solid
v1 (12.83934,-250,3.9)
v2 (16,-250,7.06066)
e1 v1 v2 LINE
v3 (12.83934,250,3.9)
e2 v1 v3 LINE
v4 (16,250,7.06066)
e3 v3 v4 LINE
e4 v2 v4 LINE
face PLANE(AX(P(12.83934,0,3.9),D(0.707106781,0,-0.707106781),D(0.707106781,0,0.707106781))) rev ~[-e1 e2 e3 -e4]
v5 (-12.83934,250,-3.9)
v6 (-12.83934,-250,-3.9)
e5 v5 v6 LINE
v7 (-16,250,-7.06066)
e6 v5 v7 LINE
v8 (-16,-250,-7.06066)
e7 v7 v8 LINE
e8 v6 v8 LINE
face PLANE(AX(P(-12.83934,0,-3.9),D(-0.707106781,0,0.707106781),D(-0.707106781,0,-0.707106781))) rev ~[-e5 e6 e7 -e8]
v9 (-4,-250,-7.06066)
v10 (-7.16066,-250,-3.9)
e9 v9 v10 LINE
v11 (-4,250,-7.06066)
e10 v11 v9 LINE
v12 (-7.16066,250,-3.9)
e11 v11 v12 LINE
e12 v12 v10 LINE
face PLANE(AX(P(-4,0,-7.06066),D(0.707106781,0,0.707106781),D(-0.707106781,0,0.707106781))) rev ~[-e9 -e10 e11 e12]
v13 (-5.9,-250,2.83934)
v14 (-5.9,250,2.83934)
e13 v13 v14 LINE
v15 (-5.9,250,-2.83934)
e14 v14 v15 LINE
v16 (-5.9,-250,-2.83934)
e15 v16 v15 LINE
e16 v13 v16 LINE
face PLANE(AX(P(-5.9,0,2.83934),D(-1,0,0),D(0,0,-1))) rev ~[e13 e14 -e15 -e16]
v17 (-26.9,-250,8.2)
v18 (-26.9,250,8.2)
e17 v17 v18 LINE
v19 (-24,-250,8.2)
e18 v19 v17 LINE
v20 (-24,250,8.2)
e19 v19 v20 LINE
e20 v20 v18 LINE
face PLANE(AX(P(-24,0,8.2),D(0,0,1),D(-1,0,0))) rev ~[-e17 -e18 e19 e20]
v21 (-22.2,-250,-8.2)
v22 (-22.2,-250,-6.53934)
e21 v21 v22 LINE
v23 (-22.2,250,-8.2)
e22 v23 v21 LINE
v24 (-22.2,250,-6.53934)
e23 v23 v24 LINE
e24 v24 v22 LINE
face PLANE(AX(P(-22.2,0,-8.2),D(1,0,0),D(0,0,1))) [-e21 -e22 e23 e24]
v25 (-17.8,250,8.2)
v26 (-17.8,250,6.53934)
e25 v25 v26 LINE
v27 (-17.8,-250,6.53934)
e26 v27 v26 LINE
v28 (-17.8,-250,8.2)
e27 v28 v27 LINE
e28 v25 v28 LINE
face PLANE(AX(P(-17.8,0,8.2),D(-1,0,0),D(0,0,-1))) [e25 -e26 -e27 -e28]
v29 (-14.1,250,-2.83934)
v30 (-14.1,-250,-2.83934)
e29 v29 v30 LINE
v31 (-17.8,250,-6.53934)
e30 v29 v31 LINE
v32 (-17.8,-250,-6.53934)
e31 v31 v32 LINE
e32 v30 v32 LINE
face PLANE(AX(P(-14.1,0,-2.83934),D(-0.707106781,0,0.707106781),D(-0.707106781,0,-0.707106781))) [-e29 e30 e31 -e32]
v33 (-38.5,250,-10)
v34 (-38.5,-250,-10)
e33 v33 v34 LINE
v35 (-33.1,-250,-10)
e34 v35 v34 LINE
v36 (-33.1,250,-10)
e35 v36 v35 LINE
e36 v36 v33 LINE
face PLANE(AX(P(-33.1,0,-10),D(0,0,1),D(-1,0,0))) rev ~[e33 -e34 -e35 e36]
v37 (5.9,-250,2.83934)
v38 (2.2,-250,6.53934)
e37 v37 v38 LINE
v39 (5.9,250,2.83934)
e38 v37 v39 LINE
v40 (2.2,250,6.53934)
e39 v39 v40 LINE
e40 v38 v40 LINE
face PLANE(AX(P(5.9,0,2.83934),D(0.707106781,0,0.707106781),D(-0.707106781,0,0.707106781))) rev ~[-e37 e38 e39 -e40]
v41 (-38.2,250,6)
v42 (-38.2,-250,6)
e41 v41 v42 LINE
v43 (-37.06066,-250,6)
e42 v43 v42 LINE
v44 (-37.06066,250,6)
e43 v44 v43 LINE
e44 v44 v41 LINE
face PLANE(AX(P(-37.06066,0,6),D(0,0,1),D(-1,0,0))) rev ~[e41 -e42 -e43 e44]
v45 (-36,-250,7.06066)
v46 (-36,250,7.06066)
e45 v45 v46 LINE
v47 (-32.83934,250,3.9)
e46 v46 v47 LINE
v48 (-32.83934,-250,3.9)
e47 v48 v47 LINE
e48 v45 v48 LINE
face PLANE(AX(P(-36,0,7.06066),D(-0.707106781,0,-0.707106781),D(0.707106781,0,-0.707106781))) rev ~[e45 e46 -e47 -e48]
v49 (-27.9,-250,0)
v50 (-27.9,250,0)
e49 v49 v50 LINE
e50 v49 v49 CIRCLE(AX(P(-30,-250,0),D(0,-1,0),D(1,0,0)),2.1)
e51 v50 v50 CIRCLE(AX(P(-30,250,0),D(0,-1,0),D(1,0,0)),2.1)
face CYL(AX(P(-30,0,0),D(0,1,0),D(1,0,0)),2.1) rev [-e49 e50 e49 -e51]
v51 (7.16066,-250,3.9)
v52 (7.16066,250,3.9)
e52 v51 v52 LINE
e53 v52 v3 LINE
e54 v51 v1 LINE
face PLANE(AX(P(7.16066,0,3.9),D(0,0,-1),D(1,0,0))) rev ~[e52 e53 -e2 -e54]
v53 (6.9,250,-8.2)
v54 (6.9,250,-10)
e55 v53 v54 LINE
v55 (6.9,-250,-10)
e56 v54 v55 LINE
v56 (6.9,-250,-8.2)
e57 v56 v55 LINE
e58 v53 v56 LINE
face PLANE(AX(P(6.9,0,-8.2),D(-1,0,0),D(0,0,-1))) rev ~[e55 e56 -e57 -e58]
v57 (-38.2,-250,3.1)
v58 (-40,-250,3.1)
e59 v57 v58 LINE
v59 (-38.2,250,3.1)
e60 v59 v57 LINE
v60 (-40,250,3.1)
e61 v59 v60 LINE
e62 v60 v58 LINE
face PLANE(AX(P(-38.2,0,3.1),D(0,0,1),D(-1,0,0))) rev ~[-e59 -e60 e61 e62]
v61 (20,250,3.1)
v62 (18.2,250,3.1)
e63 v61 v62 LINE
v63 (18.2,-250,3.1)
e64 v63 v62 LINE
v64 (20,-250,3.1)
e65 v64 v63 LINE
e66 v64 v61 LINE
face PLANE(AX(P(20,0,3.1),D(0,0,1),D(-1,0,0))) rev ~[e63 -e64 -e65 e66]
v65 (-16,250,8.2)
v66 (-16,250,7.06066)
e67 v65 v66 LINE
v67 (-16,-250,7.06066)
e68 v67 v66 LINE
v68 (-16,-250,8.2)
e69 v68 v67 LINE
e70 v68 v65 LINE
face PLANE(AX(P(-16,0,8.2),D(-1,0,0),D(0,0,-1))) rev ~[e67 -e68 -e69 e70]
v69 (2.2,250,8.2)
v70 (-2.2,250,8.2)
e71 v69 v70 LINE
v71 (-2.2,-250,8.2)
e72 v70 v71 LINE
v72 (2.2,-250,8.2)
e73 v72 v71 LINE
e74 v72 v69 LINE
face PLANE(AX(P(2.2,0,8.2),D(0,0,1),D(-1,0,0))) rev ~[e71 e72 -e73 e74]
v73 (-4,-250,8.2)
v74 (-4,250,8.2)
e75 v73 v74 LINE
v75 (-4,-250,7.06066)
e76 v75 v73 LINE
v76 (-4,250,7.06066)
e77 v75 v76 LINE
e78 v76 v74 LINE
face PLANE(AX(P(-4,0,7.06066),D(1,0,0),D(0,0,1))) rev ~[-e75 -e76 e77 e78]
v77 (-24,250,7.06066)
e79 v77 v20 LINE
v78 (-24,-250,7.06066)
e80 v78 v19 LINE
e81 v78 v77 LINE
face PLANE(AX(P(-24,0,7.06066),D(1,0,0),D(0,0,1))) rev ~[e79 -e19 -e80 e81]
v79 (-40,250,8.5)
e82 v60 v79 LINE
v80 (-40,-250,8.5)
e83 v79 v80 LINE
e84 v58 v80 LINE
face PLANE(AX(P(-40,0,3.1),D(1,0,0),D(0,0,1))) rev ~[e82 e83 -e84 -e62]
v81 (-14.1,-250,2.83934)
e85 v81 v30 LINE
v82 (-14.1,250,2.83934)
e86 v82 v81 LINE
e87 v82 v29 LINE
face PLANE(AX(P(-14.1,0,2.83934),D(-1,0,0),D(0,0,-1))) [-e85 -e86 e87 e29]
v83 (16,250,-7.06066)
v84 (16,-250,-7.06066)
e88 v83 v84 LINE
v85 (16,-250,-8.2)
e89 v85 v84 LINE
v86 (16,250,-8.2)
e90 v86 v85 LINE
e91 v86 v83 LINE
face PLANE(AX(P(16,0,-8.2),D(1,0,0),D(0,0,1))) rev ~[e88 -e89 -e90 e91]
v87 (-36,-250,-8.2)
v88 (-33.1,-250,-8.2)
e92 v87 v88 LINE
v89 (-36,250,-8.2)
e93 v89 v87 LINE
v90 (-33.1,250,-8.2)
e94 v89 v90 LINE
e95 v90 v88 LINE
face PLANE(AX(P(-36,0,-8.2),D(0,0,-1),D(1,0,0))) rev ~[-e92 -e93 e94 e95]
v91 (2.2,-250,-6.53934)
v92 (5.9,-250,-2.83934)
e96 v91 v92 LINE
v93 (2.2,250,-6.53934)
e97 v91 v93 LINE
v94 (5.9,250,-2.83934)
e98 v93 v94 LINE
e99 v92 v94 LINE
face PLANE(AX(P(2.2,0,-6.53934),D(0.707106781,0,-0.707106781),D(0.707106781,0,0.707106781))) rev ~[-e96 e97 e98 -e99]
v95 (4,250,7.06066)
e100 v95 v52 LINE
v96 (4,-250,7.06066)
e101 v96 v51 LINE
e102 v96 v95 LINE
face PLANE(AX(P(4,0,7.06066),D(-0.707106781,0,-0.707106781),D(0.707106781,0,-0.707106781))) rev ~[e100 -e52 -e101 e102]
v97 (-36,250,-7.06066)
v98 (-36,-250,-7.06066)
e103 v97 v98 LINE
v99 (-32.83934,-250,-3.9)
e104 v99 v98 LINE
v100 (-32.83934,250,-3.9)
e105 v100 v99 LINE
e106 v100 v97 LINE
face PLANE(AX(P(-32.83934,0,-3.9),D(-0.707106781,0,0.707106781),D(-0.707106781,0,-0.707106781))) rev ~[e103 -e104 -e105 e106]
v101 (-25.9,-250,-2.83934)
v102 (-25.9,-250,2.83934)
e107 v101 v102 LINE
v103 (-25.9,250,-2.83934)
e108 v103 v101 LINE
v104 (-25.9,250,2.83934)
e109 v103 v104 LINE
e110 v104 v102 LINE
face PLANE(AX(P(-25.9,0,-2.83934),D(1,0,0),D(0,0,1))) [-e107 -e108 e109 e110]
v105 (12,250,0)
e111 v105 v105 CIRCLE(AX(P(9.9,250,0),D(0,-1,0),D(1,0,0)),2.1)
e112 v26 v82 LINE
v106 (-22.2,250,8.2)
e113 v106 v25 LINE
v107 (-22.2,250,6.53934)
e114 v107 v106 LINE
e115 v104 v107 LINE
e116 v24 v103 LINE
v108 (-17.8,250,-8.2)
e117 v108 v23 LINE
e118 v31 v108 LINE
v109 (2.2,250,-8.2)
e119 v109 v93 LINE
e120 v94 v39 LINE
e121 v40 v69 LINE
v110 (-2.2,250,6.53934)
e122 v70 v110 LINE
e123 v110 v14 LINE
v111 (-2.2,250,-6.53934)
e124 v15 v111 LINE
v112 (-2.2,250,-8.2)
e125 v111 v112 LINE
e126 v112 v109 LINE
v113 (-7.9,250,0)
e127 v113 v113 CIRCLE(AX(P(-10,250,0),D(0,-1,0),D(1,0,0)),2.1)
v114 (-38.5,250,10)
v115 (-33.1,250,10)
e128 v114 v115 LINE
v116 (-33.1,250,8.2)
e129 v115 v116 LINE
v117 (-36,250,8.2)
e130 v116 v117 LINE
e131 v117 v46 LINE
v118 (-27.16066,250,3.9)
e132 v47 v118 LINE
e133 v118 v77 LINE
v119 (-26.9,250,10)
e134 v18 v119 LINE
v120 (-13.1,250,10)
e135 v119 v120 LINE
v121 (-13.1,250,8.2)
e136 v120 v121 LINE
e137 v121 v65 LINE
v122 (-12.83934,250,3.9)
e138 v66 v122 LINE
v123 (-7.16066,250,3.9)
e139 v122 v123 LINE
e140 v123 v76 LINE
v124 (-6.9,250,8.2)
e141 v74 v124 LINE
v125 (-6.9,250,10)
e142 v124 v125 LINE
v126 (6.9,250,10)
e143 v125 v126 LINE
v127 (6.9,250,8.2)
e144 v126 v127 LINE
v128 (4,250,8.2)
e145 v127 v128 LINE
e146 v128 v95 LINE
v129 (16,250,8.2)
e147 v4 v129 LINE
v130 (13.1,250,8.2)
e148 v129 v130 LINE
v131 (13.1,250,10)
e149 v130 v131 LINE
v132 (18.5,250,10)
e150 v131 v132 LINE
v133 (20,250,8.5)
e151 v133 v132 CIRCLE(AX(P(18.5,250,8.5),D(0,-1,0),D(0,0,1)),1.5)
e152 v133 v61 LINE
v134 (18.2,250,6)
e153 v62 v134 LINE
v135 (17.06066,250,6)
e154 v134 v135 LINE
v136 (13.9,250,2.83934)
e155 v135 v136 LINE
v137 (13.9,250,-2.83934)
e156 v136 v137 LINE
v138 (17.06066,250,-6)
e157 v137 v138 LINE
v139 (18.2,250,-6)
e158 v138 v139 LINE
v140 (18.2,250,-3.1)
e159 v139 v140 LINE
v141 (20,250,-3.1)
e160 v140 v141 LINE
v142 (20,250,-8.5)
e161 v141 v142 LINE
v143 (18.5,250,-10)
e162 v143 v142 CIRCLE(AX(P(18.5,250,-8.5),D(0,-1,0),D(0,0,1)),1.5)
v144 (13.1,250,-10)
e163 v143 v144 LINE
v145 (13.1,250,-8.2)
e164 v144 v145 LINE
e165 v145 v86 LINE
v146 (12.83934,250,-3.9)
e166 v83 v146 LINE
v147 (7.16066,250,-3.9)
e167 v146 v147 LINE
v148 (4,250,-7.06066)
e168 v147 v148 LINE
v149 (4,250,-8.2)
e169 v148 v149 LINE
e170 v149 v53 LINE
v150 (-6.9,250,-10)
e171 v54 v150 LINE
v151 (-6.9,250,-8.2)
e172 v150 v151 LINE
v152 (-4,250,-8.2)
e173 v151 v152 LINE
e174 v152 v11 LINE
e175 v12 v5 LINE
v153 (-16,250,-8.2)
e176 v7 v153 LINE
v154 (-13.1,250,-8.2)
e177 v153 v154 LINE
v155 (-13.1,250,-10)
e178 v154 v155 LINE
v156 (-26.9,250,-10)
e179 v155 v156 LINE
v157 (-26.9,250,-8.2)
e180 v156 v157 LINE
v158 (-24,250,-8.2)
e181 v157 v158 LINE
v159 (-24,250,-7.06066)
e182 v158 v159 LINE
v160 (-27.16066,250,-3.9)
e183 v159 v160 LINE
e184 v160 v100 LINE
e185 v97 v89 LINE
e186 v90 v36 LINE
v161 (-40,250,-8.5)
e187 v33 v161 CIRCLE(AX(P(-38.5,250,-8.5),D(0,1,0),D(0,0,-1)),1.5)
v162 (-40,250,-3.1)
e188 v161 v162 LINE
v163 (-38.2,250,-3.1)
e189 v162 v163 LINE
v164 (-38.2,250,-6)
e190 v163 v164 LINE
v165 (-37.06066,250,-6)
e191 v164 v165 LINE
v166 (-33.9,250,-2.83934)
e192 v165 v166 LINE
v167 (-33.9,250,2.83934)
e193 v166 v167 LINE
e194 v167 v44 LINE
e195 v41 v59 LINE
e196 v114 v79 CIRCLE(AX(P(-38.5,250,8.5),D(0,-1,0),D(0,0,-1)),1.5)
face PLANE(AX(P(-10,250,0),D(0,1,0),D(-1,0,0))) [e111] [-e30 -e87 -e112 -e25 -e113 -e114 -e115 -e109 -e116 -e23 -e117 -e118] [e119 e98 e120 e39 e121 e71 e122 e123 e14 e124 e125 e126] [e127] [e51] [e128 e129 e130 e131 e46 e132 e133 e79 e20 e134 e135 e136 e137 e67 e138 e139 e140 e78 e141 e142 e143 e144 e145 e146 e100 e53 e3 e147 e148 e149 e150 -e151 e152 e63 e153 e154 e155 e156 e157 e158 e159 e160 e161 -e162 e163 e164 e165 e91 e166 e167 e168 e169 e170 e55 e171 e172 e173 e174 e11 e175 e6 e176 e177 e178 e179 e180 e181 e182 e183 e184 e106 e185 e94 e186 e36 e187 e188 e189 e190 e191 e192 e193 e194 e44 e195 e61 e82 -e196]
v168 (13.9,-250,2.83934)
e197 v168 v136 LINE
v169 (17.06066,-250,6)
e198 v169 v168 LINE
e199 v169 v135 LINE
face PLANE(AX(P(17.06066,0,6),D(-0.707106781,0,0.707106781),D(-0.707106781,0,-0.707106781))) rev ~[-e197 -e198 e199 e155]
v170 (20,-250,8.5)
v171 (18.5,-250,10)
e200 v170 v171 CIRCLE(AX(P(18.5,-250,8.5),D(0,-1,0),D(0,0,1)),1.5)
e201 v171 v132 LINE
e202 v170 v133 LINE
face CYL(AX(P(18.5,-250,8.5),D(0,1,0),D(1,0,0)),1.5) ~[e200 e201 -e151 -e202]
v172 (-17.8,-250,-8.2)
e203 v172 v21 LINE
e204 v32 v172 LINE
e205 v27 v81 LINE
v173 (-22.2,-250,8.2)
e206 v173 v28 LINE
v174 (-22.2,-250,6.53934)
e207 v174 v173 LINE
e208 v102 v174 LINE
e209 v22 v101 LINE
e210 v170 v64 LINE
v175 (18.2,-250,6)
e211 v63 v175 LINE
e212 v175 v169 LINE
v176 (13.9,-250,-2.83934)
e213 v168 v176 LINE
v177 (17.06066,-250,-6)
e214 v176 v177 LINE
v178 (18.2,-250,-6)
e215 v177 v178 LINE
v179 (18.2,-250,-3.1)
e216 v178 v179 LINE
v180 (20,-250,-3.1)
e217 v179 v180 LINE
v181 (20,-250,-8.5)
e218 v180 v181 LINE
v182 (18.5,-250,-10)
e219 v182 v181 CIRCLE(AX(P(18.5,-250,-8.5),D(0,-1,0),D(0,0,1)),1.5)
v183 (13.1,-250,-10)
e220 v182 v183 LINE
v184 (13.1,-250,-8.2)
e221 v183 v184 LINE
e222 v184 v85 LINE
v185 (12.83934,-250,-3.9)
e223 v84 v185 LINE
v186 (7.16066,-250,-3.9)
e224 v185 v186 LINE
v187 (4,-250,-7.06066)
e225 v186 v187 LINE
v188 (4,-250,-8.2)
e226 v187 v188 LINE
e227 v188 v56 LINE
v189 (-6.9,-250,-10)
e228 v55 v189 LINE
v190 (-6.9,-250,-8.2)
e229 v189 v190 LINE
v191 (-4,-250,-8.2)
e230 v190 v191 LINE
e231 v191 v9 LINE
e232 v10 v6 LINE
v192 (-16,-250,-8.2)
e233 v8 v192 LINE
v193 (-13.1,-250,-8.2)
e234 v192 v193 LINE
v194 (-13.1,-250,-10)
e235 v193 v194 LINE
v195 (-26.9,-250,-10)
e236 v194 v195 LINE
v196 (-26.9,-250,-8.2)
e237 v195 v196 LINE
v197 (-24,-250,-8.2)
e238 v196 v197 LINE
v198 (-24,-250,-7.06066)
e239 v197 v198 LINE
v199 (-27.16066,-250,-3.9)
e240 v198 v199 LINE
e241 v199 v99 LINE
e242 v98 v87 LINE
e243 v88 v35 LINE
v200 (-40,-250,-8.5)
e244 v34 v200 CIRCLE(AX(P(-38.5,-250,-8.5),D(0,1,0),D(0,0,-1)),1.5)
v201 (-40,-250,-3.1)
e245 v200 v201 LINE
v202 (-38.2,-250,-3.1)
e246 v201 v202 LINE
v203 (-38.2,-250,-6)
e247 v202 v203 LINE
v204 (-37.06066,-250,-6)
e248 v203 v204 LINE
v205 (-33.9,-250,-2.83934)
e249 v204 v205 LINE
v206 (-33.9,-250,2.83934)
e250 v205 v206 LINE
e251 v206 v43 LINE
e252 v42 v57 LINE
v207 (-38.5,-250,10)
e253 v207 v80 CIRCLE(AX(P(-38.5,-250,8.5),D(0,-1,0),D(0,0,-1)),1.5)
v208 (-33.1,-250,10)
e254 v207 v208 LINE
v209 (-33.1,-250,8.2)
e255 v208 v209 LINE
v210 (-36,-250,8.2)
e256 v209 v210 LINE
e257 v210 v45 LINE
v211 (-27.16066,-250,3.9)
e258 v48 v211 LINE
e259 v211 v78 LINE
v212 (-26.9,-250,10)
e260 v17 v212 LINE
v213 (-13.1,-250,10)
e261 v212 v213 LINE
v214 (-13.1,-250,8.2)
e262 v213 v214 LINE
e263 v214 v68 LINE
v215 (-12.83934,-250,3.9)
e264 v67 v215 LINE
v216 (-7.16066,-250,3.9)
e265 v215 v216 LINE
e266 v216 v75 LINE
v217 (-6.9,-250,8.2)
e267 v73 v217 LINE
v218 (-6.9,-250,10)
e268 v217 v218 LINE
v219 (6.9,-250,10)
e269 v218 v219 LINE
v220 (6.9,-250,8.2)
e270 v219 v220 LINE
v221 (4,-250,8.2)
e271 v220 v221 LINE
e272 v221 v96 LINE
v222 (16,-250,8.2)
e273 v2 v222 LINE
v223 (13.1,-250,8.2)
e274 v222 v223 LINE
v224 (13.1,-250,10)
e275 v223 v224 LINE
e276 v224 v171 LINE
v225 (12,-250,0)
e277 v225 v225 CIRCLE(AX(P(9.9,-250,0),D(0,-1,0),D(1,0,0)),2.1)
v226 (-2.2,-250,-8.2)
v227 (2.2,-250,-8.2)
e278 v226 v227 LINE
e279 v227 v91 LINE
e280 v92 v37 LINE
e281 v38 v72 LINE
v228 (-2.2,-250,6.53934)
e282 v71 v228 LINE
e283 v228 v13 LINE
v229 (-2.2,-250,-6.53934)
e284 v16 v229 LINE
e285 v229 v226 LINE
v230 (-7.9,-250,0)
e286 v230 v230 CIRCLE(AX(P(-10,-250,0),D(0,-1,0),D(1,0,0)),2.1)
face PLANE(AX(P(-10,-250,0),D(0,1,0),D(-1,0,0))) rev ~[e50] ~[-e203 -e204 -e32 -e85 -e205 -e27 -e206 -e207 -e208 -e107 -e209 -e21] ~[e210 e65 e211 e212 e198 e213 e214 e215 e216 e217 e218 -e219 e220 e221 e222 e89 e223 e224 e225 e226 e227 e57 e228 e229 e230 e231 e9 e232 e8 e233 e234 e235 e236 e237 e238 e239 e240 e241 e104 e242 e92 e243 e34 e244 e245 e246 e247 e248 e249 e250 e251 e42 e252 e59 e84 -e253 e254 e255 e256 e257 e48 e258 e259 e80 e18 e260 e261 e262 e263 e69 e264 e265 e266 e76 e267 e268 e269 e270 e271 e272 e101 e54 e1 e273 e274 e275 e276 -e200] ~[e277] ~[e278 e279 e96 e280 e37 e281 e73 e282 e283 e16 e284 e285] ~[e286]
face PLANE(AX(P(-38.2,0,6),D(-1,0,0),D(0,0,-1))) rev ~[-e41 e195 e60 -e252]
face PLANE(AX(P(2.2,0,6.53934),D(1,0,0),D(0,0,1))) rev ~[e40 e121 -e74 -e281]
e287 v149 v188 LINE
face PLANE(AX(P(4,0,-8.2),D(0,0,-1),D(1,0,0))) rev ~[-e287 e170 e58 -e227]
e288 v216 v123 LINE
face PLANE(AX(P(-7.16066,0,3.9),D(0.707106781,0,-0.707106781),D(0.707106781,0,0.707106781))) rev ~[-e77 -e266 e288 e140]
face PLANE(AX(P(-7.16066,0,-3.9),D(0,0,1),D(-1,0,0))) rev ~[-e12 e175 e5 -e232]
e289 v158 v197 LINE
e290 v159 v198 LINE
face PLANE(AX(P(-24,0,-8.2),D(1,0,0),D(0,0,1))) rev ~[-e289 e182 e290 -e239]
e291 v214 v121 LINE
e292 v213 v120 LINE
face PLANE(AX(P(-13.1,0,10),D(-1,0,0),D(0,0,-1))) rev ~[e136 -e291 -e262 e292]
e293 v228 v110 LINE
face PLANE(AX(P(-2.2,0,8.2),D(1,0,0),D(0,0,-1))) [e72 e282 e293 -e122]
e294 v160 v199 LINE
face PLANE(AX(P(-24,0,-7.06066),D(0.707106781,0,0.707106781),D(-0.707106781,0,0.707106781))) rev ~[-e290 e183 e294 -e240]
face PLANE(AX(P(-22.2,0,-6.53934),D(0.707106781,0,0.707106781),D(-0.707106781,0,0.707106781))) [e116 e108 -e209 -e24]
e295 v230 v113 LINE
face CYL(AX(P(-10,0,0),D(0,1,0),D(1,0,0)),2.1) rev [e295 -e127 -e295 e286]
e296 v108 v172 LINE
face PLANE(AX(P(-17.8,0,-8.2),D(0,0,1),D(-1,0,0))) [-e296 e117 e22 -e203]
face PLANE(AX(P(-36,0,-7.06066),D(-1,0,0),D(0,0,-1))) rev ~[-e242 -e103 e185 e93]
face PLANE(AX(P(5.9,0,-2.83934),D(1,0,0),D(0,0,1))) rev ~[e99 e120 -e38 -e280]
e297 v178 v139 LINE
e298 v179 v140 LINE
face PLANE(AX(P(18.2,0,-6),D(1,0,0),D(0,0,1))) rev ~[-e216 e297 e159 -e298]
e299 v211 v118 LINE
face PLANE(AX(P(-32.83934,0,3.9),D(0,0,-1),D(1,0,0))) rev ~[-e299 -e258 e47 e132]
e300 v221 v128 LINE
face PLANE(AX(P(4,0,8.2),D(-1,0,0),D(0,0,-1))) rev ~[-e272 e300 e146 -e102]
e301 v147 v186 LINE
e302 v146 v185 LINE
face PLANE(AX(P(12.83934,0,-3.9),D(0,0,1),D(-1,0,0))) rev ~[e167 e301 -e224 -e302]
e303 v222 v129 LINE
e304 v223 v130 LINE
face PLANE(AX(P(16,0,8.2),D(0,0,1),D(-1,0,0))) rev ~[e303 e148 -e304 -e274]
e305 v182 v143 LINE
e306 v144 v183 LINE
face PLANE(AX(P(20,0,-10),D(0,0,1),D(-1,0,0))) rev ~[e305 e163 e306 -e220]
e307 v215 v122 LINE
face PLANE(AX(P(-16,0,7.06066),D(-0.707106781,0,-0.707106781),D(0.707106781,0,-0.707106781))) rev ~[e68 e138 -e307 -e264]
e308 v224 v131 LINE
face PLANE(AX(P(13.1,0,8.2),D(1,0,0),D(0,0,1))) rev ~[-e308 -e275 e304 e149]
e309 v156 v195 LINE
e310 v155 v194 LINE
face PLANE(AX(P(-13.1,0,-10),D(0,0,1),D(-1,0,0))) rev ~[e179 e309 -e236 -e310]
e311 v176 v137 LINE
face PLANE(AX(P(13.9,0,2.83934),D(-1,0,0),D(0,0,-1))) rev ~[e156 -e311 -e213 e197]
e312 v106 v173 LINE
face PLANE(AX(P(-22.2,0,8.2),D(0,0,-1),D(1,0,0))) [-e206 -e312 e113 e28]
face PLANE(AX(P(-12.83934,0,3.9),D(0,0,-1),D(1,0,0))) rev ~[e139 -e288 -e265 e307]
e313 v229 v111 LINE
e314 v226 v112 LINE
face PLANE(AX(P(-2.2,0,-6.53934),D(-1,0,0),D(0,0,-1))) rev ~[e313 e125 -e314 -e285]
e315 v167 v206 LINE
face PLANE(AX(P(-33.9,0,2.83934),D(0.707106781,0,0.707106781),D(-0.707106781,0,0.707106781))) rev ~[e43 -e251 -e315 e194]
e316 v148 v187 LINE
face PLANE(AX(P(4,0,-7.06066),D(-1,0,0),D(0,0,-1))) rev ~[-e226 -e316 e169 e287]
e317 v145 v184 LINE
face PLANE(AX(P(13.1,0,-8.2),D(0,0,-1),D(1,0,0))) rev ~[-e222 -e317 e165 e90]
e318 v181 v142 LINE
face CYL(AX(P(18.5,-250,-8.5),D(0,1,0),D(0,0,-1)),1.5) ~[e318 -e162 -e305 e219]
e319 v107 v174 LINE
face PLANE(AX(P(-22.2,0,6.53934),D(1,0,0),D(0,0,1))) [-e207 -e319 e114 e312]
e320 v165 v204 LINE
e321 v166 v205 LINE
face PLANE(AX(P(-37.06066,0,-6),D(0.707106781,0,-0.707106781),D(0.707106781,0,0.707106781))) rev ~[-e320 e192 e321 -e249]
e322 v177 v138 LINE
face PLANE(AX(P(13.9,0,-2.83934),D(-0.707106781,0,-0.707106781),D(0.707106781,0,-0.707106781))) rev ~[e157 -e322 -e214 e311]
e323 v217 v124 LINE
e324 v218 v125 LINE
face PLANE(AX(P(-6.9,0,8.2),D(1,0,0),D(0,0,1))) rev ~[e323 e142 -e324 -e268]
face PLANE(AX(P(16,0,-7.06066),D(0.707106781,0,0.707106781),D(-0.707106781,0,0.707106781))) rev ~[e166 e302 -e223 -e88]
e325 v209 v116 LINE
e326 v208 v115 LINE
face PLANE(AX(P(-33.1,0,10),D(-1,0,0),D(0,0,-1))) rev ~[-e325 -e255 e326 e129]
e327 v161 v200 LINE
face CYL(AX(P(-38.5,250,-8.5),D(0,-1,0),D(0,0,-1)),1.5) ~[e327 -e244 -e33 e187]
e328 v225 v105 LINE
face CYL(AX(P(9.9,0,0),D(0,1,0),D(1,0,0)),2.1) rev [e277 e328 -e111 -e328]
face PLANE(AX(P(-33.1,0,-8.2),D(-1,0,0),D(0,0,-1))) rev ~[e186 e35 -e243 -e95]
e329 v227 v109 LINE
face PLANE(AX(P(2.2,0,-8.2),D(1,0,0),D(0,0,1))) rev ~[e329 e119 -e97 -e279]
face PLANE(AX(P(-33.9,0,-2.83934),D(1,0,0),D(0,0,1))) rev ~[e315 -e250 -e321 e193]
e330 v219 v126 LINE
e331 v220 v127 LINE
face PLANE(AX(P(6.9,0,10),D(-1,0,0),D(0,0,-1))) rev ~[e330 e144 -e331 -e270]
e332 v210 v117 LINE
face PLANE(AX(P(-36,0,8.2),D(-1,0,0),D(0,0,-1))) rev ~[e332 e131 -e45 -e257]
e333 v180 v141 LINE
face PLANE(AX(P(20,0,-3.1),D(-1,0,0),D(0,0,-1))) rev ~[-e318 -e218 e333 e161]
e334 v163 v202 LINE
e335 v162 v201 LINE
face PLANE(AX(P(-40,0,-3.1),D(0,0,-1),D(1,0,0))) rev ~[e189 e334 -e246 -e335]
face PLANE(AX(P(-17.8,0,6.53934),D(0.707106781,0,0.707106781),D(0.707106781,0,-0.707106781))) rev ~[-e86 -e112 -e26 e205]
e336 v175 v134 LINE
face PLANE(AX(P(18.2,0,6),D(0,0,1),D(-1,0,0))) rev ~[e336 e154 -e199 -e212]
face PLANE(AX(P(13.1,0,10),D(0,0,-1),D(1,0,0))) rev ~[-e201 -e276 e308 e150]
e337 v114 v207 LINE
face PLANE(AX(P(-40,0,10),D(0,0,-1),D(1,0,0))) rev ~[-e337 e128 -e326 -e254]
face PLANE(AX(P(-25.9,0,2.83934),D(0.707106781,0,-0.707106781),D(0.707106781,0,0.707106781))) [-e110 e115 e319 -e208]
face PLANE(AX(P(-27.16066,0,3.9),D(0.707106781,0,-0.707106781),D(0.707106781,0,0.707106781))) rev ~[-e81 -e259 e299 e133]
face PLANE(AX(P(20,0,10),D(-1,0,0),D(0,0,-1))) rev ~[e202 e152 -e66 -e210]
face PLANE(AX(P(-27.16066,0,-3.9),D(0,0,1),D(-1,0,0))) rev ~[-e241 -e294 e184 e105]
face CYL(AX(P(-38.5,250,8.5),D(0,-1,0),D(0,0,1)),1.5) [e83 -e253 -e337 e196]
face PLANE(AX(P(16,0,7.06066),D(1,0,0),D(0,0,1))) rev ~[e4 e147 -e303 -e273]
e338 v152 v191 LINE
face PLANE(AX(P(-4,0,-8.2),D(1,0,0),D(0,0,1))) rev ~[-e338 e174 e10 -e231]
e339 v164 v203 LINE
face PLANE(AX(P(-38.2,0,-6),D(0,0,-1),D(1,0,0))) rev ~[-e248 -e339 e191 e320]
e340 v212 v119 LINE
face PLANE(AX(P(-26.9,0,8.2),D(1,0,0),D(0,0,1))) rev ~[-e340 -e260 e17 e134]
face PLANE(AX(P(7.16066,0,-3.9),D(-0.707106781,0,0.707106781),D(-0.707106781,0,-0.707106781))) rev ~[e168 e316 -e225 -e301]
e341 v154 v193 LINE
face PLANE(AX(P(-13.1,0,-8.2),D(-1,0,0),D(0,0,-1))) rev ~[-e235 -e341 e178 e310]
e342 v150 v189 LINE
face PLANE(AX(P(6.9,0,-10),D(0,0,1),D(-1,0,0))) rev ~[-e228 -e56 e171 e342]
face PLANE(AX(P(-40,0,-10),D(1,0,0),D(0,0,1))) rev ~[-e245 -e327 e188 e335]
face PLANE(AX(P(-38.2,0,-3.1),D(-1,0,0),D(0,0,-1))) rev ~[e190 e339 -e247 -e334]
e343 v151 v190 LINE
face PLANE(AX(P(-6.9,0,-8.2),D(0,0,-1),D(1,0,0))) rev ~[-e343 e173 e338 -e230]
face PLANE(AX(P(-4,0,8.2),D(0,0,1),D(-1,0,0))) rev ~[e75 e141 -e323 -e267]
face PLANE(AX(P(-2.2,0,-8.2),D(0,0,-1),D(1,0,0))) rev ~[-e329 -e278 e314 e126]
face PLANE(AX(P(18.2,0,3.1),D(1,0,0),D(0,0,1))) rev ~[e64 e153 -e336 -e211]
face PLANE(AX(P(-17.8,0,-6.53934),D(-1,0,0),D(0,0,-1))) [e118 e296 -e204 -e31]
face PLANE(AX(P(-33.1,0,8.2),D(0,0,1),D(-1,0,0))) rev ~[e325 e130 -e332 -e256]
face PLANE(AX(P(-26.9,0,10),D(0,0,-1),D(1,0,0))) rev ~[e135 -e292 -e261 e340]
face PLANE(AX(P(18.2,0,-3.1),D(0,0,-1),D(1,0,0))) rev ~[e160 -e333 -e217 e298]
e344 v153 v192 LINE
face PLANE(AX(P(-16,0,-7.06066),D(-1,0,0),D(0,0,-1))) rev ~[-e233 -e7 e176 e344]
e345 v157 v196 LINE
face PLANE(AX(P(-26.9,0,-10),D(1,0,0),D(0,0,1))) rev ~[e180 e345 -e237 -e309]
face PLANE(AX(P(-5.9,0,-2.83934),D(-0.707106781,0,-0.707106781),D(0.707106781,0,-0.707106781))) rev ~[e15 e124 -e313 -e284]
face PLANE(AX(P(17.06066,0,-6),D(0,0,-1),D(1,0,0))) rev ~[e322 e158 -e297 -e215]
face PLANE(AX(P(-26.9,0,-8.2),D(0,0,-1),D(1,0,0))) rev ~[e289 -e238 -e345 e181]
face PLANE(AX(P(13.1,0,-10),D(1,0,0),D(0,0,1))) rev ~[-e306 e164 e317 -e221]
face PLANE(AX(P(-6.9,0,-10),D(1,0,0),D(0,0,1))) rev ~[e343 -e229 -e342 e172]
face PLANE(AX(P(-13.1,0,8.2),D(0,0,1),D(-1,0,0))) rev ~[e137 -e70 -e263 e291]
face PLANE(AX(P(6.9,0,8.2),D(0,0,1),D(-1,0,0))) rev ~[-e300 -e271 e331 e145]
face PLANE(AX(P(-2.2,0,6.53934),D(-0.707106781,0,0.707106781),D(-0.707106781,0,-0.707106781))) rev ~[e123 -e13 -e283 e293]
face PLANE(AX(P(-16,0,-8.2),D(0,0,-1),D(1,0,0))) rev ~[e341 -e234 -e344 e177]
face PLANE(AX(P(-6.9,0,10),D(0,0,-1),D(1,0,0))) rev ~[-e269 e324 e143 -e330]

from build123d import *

# Parameters (mm, degrees)
SKETCH_R  = 2.1
PAD_DEPTH = 250
FILLET_R  = 1.5


with BuildPart() as part:
    # Sketch → Pad (new body, symmetric)
    with BuildSketch(Plane.XZ):
        Polygon((-10, 10), (-3.1, 10), (-3.1, 8.2), (-6, 8.2), (-6, 7.06066), (-2.83934, 3.9), (2.83934, 3.9), (6, 7.06066), (6, 8.2), (3.1, 8.2), (3.1, 10), (16.9, 10), (16.9, 8.2), (14, 8.2), (14, 7.06066), (17.16066, 3.9), (22.83934, 3.9), (26, 7.06066), (26, 8.2), (23.1, 8.2), (23.1, 10), (36.9, 10), (36.9, 8.2), (34, 8.2), (34, 7.06066), (37.16066, 3.9), (42.83934, 3.9), (46, 7.06066), (46, 8.2), (43.1, 8.2), (43.1, 10), (50, 10), (50, 3.1), (48.2, 3.1), (48.2, 6), (47.06066, 6), (43.9, 2.83934), (43.9, -2.83934), (47.06066, -6), (48.2, -6), (48.2, -3.1), (50, -3.1), (50, -10), (43.1, -10), (43.1, -8.2), (46, -8.2), (46, -7.06066), (42.83934, -3.9), (37.16066, -3.9), (34, -7.06066), (34, -8.2), (36.9, -8.2), (36.9, -10), (23.1, -10), (23.1, -8.2), (26, -8.2), (26, -7.06066), (22.83934, -3.9), (17.16066, -3.9), (14, -7.06066), (14, -8.2), (16.9, -8.2), (16.9, -10), (3.1, -10), (3.1, -8.2), (6, -8.2), (6, -7.06066), (2.83934, -3.9), (-2.83934, -3.9), (-6, -7.06066), (-6, -8.2), (-3.1, -8.2), (-3.1, -10), (-10, -10), (-10, -3.1), (-8.2, -3.1), (-8.2, -6), (-7.06066, -6), (-3.9, -2.83934), (-3.9, 2.83934), (-7.06066, 6), (-8.2, 6), (-8.2, 3.1), (-10, 3.1), align=None)
        Circle(SKETCH_R, mode=Mode.SUBTRACT)
        with Locations((20, 0)):
            Circle(SKETCH_R, mode=Mode.SUBTRACT)
        with Locations((39.9, 0)):
            Circle(SKETCH_R, mode=Mode.SUBTRACT)
        Polygon((7.8, -6.53934), (4.1, -2.83934), (4.1, 2.83934), (7.8, 6.53934), (7.8, 8.2), (12.2, 8.2), (12.2, 6.53934), (15.9, 2.83934), (15.9, -2.83934), (12.2, -6.53934), (12.2, -8.2), (7.8, -8.2), align=None, mode=Mode.SUBTRACT)
        Polygon((27.8, 8.2), (27.8, 6.53934), (24.1, 2.83934), (24.1, -2.83934), (27.8, -6.53934), (27.8, -8.2), (32.2, -8.2), (32.2, -6.53934), (35.9, -2.83934), (35.9, 2.83934), (32.2, 6.53934), (32.2, 8.2), align=None, mode=Mode.SUBTRACT)
    extrude(amount=PAD_DEPTH, both=True)

    # Fillet
    fillet_edges = [part.edges().sort_by_distance(p)[0] for p in [
        (-10, 0, 10),
        (50, 0, 10),
        (-10, 0, -10),
        (50, 0, -10),
    ]]
    fillet(fillet_edges, radius=FILLET_R)


with BuildPart() as part_1:
    # Body placement: moved
    add(part.part.moved(Location((-30, 0, 0))))


solid = part_1.part
